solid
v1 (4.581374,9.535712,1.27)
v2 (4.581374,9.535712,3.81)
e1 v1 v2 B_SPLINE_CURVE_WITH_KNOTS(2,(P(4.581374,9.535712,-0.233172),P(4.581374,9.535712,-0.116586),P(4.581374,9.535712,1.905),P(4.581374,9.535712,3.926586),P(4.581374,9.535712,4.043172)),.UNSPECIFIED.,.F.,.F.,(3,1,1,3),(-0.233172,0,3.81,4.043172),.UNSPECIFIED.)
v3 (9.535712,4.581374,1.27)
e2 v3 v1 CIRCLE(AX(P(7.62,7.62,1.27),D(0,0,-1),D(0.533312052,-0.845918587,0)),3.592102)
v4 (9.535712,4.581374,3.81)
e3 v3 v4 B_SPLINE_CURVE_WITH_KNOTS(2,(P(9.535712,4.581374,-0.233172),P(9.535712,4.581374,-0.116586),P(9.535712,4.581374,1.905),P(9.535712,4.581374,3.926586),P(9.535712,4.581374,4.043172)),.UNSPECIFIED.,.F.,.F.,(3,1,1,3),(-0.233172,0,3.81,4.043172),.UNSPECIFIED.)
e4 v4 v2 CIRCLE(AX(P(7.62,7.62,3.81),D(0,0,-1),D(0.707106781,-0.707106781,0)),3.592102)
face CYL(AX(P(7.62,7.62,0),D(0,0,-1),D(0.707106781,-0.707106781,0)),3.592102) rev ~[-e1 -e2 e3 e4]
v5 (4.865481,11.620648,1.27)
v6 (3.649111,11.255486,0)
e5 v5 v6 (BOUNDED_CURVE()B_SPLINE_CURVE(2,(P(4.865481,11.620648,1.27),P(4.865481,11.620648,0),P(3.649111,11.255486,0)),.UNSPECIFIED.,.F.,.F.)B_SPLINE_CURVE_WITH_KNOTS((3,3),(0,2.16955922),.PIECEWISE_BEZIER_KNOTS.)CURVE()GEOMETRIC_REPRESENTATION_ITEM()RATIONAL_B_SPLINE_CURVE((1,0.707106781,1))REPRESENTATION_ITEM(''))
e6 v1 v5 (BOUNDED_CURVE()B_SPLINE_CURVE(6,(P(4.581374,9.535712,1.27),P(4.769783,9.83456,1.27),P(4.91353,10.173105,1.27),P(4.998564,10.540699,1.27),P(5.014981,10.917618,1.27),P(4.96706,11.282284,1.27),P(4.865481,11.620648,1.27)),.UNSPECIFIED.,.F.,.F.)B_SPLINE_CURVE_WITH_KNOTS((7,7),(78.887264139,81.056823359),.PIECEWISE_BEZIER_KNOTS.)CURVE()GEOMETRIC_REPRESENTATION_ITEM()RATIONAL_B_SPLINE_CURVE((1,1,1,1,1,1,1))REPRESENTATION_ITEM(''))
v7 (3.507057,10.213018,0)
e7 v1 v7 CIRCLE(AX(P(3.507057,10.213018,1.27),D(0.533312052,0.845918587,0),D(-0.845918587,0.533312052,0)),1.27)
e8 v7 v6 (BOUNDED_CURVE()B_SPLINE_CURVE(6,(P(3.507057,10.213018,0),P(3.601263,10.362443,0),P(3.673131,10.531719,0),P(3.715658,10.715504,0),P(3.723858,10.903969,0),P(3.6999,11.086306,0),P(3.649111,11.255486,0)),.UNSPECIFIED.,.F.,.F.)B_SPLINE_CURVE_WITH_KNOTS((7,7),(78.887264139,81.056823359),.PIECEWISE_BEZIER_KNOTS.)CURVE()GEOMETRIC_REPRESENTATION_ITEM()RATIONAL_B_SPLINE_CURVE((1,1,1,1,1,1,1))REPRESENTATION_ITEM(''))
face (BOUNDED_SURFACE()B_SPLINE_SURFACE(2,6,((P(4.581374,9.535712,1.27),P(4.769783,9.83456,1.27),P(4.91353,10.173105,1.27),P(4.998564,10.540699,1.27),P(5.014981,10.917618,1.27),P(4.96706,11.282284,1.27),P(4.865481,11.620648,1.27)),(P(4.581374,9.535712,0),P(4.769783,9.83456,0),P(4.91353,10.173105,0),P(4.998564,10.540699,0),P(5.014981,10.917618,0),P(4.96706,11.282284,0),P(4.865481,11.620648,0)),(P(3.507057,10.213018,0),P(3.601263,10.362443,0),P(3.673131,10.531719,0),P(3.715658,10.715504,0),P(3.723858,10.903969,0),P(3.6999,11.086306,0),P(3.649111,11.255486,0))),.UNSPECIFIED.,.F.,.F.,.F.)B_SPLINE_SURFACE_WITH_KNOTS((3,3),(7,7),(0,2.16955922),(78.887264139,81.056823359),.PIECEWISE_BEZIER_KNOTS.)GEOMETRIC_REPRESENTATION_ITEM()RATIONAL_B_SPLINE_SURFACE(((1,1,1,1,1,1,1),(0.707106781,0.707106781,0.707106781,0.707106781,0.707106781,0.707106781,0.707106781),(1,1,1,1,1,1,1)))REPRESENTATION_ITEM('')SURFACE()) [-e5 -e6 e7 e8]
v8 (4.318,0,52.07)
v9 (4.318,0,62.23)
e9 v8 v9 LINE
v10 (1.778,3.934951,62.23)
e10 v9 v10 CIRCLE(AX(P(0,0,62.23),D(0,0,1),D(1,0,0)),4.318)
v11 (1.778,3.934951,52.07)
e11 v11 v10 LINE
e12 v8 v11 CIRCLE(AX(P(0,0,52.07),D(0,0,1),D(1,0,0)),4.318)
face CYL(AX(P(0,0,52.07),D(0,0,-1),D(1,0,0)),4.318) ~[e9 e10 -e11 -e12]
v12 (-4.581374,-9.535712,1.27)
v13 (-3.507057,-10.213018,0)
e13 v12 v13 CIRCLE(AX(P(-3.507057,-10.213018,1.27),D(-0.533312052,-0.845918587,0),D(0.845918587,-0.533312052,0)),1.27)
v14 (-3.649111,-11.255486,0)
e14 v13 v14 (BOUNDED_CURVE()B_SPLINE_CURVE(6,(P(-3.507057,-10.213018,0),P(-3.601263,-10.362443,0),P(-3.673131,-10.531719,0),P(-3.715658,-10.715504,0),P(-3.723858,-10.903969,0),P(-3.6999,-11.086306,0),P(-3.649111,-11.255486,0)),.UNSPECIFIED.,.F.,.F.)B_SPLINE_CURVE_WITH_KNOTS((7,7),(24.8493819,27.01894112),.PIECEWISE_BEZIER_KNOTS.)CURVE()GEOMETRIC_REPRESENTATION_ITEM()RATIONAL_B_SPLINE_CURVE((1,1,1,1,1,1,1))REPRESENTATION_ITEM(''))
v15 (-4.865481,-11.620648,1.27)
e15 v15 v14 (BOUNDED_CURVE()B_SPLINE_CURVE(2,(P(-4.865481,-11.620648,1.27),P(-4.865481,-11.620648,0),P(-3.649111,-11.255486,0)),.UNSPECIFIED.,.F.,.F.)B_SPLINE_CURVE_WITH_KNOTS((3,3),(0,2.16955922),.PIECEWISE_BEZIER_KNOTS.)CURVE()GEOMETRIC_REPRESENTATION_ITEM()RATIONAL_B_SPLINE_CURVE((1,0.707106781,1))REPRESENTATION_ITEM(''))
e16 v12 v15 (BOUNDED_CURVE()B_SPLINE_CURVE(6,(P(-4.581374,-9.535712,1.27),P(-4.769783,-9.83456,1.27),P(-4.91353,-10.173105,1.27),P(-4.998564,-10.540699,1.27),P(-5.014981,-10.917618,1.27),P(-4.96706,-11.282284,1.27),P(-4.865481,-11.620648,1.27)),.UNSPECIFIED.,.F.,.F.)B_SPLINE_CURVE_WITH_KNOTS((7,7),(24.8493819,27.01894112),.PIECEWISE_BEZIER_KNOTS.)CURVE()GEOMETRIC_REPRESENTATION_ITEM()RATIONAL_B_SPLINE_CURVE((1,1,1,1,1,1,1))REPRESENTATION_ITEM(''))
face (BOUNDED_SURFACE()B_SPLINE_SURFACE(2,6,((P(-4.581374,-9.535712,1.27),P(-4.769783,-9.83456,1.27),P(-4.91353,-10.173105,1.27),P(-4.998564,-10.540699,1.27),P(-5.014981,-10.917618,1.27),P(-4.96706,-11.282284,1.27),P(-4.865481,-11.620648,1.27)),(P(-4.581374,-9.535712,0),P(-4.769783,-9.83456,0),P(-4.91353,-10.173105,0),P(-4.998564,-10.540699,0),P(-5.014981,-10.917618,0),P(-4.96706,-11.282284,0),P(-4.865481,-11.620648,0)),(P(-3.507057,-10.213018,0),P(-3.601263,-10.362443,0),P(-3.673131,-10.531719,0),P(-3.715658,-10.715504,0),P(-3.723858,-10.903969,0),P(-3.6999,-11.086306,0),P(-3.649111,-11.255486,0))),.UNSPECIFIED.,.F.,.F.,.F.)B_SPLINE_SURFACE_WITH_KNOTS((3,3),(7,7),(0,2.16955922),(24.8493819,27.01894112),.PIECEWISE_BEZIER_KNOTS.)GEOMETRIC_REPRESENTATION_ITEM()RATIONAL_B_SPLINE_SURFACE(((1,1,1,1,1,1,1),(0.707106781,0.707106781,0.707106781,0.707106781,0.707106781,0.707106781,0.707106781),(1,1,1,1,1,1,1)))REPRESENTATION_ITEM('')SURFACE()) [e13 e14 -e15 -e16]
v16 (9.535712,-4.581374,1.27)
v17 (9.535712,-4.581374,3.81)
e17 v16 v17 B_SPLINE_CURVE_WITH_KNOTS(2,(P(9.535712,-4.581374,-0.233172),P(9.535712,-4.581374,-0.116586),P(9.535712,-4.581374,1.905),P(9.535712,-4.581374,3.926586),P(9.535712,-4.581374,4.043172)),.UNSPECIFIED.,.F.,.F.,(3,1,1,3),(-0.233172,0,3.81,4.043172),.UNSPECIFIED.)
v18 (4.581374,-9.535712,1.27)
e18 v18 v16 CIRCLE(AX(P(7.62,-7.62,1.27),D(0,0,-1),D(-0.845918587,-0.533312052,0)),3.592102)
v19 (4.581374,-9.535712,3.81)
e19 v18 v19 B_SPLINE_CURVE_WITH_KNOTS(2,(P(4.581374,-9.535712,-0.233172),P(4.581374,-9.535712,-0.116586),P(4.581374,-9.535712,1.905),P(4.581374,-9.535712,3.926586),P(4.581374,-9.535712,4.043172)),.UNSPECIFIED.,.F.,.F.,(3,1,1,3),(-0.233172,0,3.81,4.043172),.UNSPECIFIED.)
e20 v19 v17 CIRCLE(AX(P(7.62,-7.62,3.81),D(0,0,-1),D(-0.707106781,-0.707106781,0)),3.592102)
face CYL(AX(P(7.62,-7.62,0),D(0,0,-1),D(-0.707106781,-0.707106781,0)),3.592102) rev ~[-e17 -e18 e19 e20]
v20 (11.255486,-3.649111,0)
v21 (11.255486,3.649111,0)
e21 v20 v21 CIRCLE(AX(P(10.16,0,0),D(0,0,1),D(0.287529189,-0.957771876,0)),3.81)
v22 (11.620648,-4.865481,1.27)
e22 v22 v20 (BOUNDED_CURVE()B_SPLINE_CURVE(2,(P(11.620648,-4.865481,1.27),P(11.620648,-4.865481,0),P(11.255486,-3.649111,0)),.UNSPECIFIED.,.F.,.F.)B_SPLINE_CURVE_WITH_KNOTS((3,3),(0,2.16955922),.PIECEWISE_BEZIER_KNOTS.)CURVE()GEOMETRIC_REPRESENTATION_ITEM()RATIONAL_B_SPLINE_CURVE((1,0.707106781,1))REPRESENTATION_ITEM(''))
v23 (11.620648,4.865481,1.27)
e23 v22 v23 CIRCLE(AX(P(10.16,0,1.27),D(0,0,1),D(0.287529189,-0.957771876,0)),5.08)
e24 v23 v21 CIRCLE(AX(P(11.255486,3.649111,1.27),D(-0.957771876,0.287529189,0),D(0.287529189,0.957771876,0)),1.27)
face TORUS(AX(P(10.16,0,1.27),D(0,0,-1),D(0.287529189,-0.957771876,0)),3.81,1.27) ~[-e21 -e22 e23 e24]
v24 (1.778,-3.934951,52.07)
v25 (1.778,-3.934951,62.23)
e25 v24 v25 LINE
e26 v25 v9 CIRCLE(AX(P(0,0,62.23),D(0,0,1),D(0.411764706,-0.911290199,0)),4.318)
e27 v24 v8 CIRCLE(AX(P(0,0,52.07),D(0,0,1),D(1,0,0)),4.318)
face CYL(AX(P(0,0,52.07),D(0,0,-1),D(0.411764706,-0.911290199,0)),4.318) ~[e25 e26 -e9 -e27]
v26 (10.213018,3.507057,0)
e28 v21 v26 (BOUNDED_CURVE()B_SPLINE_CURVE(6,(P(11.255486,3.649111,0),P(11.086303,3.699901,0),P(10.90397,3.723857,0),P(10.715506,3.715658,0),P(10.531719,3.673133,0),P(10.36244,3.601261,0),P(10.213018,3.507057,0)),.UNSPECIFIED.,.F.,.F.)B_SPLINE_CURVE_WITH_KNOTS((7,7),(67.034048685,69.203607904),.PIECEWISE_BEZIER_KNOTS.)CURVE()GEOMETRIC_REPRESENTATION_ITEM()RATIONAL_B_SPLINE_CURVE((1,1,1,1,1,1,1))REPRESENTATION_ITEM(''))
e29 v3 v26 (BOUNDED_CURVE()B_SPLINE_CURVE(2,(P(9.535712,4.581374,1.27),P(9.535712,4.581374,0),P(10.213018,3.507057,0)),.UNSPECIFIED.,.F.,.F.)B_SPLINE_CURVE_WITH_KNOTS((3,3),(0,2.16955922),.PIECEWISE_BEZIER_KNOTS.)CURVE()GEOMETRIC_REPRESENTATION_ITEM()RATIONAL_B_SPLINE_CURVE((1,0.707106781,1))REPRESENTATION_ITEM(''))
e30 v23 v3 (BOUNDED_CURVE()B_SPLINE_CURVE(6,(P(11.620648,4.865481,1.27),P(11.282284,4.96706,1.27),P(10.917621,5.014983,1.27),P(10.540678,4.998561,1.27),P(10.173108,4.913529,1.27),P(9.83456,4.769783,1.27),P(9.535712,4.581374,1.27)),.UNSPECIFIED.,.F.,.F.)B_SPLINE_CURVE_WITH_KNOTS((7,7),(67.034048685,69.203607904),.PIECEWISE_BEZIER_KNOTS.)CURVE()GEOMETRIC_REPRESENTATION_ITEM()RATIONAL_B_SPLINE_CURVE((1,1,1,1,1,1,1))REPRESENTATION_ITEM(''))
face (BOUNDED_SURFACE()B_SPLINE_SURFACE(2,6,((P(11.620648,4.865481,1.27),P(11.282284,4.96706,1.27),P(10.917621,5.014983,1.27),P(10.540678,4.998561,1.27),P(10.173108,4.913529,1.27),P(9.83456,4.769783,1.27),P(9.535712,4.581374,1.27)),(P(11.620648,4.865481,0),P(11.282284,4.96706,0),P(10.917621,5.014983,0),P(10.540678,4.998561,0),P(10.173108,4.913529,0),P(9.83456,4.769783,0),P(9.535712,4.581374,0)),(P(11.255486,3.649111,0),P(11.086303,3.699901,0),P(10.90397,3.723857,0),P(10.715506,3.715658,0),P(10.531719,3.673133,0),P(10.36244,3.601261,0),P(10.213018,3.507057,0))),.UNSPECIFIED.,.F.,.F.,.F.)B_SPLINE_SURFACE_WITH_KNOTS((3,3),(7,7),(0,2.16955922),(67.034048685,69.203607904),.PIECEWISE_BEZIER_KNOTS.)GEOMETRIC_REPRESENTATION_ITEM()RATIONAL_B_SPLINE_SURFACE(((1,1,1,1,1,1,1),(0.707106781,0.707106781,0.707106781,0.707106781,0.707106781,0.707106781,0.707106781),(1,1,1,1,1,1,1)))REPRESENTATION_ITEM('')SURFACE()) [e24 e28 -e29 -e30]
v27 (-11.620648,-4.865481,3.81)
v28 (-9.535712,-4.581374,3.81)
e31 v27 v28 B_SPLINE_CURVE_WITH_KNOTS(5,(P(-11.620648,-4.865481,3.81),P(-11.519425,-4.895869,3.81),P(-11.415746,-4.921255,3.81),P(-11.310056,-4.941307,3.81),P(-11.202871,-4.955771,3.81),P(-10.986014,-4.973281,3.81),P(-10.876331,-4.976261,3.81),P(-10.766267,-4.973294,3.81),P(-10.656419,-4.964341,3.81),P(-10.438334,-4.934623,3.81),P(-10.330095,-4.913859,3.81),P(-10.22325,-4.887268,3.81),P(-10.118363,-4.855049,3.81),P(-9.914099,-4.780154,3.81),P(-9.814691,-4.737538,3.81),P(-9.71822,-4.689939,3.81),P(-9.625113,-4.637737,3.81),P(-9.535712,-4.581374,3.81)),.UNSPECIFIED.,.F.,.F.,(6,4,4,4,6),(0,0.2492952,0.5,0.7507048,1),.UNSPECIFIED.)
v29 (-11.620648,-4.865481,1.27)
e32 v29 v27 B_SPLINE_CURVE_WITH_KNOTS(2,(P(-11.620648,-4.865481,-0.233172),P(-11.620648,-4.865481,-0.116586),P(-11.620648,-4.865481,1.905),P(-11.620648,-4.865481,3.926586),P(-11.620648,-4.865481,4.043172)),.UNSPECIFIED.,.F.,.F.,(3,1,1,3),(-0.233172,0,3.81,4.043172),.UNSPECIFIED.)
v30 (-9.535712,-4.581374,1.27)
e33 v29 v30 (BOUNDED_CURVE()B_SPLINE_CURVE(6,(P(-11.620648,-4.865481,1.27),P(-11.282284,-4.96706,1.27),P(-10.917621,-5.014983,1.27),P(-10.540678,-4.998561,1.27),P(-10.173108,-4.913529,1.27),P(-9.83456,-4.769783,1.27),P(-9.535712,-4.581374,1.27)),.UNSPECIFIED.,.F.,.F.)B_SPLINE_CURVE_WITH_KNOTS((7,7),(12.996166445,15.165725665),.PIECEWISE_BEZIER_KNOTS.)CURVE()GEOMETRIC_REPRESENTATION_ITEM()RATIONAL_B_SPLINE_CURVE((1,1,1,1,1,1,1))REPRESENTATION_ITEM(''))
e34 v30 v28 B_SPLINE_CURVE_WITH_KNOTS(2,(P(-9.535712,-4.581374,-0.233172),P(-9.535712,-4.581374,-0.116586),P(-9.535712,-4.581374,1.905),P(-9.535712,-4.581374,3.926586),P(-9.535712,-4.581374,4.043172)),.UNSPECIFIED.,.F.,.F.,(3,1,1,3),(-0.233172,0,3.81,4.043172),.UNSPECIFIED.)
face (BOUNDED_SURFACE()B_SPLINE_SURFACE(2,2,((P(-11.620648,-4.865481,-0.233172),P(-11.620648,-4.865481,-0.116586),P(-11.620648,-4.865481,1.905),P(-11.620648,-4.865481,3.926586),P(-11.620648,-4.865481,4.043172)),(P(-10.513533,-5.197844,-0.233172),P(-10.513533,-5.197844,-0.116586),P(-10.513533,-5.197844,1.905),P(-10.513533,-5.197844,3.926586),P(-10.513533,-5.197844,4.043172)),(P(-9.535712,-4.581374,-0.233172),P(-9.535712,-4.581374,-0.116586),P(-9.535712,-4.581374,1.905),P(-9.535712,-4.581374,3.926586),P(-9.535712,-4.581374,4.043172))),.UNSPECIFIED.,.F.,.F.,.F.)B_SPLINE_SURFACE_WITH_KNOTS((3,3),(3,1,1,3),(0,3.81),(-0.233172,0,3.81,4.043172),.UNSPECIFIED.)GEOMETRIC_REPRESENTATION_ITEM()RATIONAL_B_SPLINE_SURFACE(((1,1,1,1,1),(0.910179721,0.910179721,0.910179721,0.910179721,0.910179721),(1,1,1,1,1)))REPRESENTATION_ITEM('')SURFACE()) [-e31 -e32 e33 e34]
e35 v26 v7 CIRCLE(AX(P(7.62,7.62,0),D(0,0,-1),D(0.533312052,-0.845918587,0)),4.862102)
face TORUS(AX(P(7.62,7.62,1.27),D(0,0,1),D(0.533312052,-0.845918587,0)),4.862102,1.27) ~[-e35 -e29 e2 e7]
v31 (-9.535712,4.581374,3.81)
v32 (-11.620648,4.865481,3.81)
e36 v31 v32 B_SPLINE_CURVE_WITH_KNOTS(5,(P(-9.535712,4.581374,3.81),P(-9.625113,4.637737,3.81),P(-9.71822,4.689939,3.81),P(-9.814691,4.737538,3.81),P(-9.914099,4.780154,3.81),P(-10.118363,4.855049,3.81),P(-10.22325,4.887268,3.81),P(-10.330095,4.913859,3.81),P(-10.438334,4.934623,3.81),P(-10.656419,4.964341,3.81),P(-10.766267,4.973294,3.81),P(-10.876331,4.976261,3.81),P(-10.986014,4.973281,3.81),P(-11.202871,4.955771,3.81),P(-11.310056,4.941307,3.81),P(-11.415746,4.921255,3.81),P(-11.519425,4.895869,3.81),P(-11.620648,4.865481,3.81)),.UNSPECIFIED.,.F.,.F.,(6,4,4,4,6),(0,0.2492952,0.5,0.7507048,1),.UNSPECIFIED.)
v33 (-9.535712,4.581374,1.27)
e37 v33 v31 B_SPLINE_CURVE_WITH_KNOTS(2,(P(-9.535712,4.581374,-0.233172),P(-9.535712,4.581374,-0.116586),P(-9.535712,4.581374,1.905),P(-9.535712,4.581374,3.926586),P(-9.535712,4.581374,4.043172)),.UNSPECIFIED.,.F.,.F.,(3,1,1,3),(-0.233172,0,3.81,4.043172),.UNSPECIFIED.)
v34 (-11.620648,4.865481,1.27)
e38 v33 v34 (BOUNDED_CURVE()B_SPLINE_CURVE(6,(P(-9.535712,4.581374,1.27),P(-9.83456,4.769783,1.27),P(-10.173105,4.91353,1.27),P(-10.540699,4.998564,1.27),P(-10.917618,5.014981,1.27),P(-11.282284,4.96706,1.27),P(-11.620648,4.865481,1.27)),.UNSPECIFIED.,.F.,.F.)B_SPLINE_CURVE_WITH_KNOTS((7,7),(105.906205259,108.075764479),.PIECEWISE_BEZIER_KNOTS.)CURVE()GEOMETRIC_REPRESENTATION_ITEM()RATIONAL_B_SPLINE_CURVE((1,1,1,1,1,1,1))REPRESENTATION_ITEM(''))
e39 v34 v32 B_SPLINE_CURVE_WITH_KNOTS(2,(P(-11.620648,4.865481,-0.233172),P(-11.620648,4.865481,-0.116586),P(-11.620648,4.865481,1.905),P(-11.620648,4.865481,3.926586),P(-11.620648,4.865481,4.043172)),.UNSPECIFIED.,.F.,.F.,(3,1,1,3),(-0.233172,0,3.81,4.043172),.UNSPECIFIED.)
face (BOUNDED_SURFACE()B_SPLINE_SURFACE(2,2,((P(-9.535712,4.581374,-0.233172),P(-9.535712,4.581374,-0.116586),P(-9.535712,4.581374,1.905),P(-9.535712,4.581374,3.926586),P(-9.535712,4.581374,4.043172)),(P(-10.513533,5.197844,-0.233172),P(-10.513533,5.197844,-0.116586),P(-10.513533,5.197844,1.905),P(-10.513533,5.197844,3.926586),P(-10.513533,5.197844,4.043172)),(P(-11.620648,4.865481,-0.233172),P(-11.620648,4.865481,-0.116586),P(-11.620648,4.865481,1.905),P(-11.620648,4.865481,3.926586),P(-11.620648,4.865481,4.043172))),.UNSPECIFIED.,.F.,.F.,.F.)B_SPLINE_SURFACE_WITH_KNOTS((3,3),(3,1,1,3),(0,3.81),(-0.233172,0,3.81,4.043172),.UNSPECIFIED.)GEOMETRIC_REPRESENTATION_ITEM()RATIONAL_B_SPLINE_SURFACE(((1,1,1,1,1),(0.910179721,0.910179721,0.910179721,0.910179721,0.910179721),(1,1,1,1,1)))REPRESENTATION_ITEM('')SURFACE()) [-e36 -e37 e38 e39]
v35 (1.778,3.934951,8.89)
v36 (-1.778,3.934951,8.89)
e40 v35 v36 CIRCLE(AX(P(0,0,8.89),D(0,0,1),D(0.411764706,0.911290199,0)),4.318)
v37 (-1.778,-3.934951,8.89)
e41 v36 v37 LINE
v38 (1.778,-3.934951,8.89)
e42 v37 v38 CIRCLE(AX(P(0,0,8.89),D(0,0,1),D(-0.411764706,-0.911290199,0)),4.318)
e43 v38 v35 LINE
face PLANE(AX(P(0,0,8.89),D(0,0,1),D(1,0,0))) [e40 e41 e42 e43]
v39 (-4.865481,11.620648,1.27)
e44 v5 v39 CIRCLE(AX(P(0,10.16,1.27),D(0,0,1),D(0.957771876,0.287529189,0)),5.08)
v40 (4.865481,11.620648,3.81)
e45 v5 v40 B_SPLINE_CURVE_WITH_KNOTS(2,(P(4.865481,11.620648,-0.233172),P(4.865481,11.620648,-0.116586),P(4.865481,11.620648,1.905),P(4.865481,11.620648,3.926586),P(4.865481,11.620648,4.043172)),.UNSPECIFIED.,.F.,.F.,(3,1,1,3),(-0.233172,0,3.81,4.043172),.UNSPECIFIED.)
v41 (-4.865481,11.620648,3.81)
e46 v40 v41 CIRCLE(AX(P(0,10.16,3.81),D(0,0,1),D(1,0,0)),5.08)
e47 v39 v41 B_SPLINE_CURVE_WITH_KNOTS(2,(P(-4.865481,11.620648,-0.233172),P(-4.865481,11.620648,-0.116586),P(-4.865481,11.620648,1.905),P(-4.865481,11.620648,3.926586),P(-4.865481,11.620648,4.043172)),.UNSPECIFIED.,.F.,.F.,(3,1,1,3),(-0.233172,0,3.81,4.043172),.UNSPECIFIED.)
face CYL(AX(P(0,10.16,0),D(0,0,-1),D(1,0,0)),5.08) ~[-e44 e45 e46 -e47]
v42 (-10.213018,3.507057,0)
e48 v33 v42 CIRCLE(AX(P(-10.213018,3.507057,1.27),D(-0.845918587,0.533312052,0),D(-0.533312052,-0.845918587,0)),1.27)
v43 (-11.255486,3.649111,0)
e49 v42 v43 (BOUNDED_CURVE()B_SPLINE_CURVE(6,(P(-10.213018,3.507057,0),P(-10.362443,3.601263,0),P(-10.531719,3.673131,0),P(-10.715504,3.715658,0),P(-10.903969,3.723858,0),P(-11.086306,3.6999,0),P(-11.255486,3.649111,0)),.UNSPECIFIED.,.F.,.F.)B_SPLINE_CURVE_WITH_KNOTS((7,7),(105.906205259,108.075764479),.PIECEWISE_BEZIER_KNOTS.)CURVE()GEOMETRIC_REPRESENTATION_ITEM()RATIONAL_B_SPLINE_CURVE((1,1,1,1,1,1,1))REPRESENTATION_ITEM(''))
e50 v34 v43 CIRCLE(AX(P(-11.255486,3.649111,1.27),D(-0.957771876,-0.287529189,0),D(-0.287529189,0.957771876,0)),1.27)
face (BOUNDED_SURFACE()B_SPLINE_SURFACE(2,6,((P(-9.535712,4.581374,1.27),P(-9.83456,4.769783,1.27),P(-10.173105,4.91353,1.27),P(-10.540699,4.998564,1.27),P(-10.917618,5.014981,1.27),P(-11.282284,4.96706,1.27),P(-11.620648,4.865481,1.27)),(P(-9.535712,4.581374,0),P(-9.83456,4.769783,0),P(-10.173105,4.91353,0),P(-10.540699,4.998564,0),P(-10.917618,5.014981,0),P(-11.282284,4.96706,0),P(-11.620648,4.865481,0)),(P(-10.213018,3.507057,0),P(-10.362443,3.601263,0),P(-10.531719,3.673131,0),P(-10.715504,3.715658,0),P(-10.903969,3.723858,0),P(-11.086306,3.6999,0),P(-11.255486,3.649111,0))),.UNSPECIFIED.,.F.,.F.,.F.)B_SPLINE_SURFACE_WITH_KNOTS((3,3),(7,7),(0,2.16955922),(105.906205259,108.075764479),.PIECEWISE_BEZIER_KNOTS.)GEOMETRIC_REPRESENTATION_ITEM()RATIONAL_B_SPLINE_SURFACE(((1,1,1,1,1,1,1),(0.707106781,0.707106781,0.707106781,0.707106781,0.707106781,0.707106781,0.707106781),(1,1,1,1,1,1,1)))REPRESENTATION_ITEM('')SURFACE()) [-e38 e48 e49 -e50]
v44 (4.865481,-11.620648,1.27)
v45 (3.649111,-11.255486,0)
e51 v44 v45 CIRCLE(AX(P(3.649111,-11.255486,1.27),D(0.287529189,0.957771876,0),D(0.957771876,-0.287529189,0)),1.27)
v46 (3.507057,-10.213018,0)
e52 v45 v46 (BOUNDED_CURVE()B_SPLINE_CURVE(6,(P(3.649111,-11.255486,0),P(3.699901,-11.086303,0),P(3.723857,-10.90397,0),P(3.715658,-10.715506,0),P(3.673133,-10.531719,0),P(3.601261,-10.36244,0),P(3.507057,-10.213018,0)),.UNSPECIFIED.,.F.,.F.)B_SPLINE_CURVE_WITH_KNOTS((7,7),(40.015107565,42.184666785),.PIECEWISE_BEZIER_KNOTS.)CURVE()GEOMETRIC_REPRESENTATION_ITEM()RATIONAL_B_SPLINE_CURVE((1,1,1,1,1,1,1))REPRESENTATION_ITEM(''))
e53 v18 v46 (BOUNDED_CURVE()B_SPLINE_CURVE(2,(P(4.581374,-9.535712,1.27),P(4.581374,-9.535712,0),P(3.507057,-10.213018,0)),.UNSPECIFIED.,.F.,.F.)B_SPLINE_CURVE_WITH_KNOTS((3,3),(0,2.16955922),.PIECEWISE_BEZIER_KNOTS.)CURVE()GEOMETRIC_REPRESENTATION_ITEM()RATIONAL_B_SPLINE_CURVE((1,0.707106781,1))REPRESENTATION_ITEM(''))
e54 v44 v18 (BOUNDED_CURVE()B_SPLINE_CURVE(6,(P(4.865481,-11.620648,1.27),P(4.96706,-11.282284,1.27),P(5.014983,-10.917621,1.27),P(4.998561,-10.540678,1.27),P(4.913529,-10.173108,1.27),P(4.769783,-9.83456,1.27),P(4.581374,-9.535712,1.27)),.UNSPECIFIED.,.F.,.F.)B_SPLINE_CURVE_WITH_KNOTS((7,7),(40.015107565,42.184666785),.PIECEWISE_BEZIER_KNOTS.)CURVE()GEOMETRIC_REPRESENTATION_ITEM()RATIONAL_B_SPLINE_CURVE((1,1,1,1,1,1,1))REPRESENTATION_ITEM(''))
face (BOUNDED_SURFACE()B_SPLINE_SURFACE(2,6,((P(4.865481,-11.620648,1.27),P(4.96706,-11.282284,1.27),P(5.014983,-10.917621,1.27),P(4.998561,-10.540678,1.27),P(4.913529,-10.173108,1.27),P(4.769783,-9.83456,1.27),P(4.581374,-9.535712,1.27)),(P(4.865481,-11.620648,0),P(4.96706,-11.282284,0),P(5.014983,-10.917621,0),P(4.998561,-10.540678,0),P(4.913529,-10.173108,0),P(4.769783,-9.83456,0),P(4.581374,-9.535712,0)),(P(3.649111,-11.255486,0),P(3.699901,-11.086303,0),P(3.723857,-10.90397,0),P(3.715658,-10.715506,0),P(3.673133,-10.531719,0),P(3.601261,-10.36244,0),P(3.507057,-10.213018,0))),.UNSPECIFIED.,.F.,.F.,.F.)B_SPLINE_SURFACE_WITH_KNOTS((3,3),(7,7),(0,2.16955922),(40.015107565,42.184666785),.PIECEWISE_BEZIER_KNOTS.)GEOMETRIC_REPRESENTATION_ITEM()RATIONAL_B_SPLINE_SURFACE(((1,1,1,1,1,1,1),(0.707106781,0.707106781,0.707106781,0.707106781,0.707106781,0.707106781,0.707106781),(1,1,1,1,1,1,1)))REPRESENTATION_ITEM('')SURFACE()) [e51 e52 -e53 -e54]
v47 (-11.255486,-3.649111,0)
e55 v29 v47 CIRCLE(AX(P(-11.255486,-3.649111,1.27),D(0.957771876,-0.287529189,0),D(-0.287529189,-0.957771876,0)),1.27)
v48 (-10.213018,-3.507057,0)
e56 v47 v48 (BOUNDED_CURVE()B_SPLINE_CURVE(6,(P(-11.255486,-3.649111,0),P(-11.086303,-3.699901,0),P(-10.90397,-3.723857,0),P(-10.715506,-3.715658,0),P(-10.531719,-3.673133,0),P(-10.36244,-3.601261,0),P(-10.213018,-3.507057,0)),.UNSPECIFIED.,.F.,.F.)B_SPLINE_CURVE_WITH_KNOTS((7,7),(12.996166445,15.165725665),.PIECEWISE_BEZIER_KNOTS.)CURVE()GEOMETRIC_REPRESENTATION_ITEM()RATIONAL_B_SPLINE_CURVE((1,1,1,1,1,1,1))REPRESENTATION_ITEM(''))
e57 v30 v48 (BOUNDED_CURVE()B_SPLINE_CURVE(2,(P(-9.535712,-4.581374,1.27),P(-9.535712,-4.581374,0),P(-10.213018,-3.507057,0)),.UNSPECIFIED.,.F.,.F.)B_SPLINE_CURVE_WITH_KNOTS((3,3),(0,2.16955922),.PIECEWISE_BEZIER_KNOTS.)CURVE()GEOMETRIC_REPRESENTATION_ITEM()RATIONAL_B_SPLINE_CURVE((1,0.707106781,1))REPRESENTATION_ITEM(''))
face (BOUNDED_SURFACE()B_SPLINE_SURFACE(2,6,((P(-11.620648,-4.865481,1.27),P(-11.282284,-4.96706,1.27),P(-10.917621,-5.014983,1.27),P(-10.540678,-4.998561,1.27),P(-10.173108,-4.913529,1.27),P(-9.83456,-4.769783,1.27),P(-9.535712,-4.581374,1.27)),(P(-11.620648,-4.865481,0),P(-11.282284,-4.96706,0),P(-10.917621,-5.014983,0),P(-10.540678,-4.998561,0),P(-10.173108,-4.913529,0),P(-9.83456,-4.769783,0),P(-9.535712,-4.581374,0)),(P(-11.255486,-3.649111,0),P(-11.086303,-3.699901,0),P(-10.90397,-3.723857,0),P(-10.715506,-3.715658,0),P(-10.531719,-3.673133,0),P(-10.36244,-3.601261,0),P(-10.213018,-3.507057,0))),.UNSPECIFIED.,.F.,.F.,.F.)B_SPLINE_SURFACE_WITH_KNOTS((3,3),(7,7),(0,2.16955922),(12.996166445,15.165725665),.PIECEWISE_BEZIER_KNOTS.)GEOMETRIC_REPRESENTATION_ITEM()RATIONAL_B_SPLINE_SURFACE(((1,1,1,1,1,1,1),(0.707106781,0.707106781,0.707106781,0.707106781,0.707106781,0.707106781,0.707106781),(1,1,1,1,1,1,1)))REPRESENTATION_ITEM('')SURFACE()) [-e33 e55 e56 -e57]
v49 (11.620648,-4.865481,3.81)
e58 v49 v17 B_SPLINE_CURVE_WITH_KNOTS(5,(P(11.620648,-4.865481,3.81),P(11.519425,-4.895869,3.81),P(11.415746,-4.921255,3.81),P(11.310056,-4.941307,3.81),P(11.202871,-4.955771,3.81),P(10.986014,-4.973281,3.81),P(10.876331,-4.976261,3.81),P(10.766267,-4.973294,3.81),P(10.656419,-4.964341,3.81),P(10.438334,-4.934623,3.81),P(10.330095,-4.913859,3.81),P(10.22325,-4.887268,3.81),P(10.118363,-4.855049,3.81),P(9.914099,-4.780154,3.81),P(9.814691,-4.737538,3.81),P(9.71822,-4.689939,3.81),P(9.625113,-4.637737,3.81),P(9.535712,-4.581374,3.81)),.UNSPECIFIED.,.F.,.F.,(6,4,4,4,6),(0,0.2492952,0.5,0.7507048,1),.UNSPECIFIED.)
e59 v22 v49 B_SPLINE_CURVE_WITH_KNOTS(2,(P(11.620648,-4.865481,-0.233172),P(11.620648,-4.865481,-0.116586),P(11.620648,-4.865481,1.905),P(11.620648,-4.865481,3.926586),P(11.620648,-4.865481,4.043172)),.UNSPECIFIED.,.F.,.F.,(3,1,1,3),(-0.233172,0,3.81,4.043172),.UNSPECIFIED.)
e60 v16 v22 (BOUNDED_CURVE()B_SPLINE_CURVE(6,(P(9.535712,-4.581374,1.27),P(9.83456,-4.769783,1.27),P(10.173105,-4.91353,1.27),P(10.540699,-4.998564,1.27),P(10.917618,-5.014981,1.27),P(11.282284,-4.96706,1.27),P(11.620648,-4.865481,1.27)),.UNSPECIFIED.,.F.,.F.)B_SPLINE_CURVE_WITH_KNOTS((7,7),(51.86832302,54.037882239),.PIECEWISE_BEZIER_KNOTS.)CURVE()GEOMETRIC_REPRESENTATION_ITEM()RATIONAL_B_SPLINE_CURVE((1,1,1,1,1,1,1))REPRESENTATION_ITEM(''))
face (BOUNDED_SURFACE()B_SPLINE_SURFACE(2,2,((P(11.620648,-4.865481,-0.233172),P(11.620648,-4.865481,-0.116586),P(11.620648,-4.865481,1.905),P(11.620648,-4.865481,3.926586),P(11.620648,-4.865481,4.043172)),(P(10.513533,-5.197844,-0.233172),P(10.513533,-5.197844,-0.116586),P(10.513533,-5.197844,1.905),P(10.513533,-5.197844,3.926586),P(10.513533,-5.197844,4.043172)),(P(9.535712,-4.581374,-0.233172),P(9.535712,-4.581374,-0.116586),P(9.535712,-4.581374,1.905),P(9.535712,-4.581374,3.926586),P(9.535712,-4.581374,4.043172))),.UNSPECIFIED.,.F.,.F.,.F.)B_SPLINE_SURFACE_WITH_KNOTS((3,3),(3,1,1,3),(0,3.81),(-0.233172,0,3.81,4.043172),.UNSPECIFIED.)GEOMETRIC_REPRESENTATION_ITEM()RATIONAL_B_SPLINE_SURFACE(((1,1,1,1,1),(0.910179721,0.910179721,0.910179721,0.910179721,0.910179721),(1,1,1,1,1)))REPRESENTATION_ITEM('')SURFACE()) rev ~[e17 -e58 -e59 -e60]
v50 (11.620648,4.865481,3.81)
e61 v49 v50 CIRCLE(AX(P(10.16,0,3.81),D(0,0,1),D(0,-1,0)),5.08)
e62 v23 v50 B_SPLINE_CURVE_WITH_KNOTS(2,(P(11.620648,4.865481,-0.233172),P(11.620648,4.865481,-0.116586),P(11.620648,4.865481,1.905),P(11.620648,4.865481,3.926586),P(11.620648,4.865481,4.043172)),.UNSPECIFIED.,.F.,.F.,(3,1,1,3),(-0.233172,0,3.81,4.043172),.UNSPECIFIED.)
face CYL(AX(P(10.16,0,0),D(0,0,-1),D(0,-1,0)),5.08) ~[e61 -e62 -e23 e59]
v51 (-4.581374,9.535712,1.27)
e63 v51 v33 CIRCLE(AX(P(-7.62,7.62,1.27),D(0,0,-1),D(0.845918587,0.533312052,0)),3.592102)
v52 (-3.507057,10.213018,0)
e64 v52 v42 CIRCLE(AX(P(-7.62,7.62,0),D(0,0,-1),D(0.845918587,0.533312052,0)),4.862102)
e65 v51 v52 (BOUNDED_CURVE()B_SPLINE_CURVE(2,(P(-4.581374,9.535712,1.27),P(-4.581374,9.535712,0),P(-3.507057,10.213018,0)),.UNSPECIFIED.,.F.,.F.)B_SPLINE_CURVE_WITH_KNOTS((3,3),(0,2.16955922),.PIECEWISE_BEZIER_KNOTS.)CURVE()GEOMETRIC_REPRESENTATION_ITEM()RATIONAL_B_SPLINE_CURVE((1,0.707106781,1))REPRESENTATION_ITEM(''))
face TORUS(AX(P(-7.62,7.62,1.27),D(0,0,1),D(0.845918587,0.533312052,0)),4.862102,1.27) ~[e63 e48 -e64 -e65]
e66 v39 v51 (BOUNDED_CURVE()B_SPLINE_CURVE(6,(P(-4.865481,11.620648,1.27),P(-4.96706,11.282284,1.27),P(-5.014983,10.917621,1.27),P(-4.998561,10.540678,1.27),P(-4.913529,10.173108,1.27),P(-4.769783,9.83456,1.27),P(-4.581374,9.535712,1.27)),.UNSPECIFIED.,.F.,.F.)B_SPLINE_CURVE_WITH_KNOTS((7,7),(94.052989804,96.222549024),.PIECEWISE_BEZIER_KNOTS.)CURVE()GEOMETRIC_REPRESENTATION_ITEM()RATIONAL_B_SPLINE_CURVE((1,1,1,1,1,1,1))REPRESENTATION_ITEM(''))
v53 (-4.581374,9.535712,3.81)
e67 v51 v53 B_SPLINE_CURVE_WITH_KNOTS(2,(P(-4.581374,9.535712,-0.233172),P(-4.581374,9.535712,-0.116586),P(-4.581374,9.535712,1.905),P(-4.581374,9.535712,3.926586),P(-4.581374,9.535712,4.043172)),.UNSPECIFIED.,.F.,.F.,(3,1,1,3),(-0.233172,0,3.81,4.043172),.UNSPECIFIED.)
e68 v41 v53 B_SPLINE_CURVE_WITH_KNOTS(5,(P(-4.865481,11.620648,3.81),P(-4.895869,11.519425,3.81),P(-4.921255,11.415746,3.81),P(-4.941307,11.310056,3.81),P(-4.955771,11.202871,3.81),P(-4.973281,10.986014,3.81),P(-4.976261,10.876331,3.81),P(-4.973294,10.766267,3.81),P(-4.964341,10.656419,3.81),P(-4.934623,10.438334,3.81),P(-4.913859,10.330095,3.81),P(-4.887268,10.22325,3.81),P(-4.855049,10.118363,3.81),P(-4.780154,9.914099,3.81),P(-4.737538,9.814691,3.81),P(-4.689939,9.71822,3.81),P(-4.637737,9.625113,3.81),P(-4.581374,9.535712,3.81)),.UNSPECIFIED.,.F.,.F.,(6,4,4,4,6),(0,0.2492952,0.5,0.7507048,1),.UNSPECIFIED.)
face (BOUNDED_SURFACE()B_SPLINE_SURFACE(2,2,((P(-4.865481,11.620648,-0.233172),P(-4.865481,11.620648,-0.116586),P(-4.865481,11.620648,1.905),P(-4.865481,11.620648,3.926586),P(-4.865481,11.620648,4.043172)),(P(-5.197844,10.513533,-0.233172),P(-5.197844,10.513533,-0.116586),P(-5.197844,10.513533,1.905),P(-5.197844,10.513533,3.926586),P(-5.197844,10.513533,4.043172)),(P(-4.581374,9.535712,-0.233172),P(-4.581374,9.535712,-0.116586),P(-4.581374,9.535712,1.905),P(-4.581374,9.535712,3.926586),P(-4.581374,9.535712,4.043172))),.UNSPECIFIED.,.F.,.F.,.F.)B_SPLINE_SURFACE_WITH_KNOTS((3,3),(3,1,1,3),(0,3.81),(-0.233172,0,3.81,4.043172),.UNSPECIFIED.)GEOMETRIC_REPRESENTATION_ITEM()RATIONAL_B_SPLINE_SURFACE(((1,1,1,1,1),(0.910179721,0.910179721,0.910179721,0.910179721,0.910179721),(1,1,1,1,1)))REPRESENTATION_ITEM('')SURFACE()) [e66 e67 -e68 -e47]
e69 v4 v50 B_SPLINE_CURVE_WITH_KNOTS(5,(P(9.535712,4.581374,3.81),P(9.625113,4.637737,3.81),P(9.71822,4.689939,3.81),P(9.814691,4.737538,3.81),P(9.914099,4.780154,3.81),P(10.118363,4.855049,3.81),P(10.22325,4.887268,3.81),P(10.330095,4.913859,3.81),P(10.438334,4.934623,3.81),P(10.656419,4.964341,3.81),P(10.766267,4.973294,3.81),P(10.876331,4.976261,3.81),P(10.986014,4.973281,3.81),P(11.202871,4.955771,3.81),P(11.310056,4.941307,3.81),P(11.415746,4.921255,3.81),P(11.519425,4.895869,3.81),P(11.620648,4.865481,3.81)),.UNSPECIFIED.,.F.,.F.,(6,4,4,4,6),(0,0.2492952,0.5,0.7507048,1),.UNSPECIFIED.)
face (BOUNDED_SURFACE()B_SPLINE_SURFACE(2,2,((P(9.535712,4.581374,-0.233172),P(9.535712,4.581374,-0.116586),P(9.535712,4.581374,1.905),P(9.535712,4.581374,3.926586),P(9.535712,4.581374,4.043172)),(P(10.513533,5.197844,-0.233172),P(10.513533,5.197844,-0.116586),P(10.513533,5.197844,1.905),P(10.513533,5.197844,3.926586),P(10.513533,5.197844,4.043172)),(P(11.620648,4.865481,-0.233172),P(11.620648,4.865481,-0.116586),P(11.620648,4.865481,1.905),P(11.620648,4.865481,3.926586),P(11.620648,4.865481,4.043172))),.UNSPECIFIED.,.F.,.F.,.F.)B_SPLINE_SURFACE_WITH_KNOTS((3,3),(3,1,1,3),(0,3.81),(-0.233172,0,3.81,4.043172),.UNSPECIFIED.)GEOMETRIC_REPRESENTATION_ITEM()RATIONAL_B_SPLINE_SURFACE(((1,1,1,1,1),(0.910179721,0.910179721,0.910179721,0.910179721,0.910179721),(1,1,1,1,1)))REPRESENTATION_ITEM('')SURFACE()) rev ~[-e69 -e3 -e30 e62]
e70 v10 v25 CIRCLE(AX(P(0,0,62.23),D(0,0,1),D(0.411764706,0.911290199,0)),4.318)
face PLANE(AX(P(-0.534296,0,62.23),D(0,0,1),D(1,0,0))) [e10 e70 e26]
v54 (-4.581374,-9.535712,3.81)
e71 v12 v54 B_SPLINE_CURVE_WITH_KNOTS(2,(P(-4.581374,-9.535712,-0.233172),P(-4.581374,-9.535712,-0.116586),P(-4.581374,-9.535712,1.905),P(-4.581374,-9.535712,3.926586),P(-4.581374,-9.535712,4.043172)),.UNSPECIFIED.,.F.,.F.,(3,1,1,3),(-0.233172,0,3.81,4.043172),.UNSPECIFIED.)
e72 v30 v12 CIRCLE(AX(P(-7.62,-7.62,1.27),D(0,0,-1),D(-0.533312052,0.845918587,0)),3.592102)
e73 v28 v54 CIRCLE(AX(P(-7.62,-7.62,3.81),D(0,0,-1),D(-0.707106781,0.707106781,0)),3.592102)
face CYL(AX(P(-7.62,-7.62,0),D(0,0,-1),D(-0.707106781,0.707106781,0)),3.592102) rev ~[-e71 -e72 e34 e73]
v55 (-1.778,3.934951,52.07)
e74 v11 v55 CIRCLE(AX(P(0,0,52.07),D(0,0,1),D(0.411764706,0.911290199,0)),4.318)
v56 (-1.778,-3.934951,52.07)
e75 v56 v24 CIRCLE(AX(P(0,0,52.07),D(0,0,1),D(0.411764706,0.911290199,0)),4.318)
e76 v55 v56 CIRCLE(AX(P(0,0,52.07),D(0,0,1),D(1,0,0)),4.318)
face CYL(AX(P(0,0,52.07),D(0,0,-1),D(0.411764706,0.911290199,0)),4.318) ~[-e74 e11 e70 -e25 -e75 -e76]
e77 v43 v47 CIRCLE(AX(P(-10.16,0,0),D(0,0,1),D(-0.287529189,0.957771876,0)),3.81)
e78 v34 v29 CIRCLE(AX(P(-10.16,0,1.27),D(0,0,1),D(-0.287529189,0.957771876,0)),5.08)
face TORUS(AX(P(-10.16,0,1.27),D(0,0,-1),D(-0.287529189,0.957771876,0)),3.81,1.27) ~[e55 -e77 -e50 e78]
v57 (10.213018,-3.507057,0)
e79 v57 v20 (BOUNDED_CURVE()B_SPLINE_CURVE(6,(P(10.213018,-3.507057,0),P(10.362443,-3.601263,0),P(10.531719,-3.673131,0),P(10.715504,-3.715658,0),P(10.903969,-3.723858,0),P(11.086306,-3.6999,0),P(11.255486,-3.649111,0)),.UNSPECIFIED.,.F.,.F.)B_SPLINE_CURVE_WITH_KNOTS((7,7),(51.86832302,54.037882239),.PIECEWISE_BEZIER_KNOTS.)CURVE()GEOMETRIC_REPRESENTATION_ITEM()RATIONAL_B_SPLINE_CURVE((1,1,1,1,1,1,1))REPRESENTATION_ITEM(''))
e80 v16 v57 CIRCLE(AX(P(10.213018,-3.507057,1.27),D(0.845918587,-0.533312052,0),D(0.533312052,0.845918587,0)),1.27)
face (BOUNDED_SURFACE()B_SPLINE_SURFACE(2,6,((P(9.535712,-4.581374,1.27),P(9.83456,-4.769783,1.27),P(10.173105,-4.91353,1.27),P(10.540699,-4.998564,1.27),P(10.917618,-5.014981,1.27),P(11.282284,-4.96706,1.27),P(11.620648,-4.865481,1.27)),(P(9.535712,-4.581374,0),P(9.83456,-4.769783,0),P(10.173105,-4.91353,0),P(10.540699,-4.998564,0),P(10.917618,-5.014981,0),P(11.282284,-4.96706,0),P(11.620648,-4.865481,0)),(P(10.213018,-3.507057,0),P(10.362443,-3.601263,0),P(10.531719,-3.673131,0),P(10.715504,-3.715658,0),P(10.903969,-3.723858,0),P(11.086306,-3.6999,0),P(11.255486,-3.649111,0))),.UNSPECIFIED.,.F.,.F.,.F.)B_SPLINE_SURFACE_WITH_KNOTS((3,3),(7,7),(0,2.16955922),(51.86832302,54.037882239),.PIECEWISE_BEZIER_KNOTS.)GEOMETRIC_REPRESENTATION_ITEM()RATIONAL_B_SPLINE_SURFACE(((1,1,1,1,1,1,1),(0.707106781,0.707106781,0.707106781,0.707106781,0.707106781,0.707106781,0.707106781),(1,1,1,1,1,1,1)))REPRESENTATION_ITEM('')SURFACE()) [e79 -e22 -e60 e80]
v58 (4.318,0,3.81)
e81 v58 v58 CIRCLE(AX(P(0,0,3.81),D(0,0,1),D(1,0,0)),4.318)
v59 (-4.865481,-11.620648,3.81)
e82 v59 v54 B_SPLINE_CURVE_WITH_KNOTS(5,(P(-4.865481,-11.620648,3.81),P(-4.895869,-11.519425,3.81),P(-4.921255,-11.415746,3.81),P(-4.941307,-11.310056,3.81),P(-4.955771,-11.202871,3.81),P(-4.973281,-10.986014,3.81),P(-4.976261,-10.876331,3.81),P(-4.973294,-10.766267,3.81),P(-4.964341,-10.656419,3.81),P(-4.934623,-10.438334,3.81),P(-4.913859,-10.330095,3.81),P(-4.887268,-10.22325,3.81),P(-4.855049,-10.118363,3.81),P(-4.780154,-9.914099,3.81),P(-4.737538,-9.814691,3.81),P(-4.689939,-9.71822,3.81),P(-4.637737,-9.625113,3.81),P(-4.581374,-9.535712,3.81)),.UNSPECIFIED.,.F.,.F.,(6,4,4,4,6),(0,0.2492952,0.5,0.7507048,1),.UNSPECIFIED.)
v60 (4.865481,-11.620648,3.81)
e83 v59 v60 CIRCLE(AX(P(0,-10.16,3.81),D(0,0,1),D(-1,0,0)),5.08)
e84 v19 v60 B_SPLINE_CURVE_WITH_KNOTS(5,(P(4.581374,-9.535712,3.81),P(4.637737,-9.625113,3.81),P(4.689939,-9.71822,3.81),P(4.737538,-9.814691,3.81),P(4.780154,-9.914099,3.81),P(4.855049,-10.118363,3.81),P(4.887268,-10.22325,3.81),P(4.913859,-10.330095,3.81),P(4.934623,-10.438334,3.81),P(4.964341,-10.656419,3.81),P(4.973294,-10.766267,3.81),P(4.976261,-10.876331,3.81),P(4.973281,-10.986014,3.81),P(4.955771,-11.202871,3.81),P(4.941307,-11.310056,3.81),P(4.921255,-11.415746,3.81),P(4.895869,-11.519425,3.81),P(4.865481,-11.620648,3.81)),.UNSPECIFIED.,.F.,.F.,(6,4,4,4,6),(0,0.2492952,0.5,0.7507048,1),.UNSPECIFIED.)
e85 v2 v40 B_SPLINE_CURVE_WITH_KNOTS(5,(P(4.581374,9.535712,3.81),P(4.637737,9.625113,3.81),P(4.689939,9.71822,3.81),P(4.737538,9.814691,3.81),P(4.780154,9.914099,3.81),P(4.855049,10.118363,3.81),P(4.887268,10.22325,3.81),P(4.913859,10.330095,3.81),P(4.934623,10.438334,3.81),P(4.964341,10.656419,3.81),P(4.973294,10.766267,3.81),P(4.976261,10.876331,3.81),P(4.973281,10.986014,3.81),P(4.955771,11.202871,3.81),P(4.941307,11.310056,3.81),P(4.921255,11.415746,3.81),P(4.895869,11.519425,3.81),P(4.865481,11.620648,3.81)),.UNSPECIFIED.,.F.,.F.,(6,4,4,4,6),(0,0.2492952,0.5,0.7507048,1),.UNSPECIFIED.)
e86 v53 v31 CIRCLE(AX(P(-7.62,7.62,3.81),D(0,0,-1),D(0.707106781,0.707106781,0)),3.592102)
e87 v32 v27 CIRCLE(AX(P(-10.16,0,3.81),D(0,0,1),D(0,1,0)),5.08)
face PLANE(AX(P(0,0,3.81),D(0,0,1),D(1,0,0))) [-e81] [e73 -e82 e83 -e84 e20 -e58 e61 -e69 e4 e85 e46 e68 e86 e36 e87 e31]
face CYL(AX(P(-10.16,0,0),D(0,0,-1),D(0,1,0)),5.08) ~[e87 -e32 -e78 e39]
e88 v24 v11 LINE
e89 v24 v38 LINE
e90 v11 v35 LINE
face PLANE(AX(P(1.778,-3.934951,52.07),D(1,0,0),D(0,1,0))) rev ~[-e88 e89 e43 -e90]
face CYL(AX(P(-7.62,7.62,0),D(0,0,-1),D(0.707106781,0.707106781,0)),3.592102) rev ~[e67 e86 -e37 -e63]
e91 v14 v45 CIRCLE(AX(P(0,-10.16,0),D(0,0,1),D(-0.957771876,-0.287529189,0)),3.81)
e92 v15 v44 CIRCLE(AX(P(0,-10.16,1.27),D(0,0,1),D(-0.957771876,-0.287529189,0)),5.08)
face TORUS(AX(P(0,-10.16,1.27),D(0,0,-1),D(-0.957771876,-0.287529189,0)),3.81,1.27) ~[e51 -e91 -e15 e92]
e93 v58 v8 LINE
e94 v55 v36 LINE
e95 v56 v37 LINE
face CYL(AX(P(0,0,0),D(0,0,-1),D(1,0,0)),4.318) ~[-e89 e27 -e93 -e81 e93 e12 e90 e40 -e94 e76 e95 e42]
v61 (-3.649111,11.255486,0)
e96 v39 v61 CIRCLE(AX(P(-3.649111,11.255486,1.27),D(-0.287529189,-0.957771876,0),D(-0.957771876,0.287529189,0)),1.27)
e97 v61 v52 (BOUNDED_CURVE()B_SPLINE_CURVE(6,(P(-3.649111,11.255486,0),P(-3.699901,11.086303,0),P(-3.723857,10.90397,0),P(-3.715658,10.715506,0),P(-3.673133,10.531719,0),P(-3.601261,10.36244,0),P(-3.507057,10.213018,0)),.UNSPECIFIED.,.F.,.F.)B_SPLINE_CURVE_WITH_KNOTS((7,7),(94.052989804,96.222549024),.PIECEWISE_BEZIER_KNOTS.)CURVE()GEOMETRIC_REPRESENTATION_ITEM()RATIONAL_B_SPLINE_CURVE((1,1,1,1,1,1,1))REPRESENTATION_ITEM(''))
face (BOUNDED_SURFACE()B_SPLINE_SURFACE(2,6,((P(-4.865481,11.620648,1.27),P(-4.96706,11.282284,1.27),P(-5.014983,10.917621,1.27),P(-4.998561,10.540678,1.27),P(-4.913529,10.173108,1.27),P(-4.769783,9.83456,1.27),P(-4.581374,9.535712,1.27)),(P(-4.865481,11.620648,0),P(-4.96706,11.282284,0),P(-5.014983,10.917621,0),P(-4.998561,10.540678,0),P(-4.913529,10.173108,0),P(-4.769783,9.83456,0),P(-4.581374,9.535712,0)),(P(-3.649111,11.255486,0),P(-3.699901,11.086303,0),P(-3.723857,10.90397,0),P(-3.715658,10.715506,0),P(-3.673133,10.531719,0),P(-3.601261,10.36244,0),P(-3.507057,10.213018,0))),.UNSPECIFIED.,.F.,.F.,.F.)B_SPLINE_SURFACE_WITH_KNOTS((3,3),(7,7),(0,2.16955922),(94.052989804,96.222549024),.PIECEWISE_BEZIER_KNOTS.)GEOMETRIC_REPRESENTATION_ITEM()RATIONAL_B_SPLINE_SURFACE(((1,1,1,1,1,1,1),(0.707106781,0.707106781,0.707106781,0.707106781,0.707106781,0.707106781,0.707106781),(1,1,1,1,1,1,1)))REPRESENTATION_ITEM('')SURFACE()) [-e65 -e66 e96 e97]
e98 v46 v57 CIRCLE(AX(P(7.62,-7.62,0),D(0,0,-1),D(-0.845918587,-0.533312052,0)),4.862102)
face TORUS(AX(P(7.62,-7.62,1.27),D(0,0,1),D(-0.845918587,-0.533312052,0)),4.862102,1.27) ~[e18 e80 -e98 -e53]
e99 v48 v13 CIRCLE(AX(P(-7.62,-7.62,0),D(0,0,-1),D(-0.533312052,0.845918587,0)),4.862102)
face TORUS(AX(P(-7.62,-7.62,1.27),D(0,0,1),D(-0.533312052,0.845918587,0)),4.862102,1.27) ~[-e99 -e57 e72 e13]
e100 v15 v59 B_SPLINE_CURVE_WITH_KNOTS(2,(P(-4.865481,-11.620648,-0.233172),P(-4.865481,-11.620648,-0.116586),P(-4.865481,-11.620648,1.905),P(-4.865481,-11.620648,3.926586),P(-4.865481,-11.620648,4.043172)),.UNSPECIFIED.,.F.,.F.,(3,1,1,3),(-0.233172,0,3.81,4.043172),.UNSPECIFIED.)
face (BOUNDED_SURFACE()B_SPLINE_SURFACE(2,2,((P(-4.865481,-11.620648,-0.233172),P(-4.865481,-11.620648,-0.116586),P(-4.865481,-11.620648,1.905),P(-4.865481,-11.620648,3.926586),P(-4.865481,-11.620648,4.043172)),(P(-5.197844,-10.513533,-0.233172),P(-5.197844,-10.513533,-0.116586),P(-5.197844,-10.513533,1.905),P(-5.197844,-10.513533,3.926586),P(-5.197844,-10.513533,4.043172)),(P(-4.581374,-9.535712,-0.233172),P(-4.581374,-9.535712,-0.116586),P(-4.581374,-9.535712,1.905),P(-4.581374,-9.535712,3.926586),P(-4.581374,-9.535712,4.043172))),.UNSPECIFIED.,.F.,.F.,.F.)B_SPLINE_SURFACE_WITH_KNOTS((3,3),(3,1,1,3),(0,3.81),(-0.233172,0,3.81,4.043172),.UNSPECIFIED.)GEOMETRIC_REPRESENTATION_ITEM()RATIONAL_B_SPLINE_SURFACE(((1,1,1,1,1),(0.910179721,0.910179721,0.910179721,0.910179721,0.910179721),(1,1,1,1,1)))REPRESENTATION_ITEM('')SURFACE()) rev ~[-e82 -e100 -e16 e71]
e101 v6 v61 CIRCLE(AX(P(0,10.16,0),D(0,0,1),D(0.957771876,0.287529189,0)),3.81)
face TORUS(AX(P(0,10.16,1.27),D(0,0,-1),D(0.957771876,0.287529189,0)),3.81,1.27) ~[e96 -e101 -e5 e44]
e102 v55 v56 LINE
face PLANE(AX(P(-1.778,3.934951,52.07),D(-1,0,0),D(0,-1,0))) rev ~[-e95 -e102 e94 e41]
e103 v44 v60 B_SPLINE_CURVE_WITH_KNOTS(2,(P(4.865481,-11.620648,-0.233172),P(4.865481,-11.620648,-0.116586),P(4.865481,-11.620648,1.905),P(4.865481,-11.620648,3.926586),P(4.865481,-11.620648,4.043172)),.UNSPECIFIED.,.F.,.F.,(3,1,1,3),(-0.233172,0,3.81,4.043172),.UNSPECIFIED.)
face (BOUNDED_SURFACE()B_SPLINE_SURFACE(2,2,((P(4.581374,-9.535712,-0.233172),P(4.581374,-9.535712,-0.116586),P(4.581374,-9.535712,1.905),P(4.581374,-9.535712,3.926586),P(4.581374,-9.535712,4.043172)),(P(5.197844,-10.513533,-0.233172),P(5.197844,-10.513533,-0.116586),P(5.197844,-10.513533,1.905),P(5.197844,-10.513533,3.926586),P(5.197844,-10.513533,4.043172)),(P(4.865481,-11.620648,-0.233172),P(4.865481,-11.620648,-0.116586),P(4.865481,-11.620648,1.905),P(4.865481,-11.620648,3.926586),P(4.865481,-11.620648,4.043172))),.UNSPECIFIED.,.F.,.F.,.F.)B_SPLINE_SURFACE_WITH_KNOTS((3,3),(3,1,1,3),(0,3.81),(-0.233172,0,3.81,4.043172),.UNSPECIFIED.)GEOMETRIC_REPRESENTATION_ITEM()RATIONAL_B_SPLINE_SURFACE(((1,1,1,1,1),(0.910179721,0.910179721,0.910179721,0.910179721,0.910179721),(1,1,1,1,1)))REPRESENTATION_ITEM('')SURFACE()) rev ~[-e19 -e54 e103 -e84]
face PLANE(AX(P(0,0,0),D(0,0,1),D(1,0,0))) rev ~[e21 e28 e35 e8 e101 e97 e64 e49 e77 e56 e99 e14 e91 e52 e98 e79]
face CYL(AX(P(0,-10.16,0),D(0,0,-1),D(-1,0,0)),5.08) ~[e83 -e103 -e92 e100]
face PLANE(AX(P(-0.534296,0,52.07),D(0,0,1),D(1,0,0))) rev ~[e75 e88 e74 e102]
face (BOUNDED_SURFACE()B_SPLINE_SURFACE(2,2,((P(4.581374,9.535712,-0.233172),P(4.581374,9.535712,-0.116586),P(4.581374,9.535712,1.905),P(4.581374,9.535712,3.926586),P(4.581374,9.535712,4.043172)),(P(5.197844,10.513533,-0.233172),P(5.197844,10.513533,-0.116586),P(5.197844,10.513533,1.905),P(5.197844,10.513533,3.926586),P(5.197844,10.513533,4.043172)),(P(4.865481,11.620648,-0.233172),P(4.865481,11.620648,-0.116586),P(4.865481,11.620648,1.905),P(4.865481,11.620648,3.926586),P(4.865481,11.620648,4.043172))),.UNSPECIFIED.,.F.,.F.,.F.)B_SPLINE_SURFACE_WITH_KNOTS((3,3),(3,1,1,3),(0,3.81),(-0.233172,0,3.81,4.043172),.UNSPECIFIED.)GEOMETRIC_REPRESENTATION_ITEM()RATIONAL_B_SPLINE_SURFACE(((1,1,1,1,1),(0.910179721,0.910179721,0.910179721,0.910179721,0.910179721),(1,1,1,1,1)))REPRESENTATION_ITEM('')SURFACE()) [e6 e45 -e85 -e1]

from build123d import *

# Parameters (mm, degrees)
F0_R     = 4.318
F1_DEPTH = 3.81
F2_DEPTH = 52.07
F4_DEPTH = 43.18
F6_DEPTH = 10.16
F7_R     = 2.54
F8_R     = 1.27


with BuildPart() as f1:
    # F0 (on Top) → F1 (new body)
    with BuildSketch(Plane.XY):
        with BuildLine():
            ThreePointArc((10.16, 5.08), (5.08, 5.08), (5.08, 10.16))
            ThreePointArc((5.08, 10.16), (0, 15.24), (-5.08, 10.16))
            ThreePointArc((-5.08, 10.16), (-5.08, 5.08), (-10.16, 5.08))
            ThreePointArc((-10.16, 5.08), (-15.24, 0), (-10.16, -5.08))
            ThreePointArc((-10.16, -5.08), (-5.08, -5.08), (-5.08, -10.16))
            ThreePointArc((-5.08, -10.16), (0, -15.24), (5.08, -10.16))
            ThreePointArc((5.08, -10.16), (5.08, -5.08), (10.16, -5.08))
            ThreePointArc((10.16, -5.08), (15.24, 0), (10.16, 5.08))
        make_face()
        Circle(F0_R, mode=Mode.SUBTRACT)
    extrude(amount=F1_DEPTH)

    # F0 (on Top) → F2 (join)
    with BuildSketch(Plane.XY):
        Circle(F0_R)
    extrude(amount=F2_DEPTH)

    # F3 (on face) → F4 (cut)
    with BuildSketch(Plane.XY.offset(52.07)):
        with BuildLine():
            Line((1.778, -3.9349510797), (1.778, 3.9349510797))
            ThreePointArc((1.778, 3.9349510797), (0, 4.318), (-1.778, 3.9349510797))
            Line((-1.778, 3.9349510797), (-1.778, -3.9349510797))
            ThreePointArc((-1.778, -3.9349510797), (0, -4.318), (1.778, -3.9349510797))
        make_face()
    extrude(amount=-F4_DEPTH, mode=Mode.SUBTRACT)

    # F5 (on face) → F6 (join)
    with BuildSketch(Plane.XY.offset(52.07)):
        with BuildLine():
            Line((1.778, -3.9349510797), (1.778, 3.9349510797))
            ThreePointArc((1.778, 3.9349510797), (-4.318, 0), (1.778, -3.9349510797))
        make_face()
        with BuildLine():
            ThreePointArc((1.778, -3.9349510797), (3.6278456417, -2.3417642922), (4.318, 0))
            ThreePointArc((4.318, 0), (3.6278456417, 2.3417642922), (1.778, 3.9349510797))
            Line((1.778, 3.9349510797), (1.778, -3.9349510797))
        make_face()
    extrude(amount=F6_DEPTH)

    # F7
    f7_edges = [f1.edges().sort_by_distance(p)[0] for p in [
        (-5.08, -10.16, 1.905),
        (-10.16, -5.08, 1.905),
        (5.08, -10.16, 1.905),
        (10.16, -5.08, 1.905),
        (10.16, 5.08, 1.905),
        (5.08, 10.16, 1.905),
        (-10.16, 5.08, 1.905),
        (-5.08, 10.16, 1.905),
    ]]
    fillet(f7_edges, radius=F7_R)

    # F8
    f8_edges = [f1.edges().sort_by_distance(p)[0] for p in [
        (-15.24, 0, 0),
        (-5.08, -5.08, 0),
        (0, -15.24, 0),
        (-10.547376, -4.949482, 0),
        (5.08, -5.08, 0),
        (4.949482, -10.547376, 0),
        (10.547376, -4.949482, 0),
        (15.24, 0, 0),
        (10.547376, 4.949482, 0),
        (5.08, 5.08, 0),
        (4.949482, 10.547376, 0),
        (0, 15.24, 0),
        (-4.949482, 10.547376, 0),
        (-5.08, 5.08, 0),
        (-10.547376, 4.949482, 0),
        (-4.949482, -10.547376, 0),
    ]]
    fillet(f8_edges, radius=F8_R)


solid = f1.part
